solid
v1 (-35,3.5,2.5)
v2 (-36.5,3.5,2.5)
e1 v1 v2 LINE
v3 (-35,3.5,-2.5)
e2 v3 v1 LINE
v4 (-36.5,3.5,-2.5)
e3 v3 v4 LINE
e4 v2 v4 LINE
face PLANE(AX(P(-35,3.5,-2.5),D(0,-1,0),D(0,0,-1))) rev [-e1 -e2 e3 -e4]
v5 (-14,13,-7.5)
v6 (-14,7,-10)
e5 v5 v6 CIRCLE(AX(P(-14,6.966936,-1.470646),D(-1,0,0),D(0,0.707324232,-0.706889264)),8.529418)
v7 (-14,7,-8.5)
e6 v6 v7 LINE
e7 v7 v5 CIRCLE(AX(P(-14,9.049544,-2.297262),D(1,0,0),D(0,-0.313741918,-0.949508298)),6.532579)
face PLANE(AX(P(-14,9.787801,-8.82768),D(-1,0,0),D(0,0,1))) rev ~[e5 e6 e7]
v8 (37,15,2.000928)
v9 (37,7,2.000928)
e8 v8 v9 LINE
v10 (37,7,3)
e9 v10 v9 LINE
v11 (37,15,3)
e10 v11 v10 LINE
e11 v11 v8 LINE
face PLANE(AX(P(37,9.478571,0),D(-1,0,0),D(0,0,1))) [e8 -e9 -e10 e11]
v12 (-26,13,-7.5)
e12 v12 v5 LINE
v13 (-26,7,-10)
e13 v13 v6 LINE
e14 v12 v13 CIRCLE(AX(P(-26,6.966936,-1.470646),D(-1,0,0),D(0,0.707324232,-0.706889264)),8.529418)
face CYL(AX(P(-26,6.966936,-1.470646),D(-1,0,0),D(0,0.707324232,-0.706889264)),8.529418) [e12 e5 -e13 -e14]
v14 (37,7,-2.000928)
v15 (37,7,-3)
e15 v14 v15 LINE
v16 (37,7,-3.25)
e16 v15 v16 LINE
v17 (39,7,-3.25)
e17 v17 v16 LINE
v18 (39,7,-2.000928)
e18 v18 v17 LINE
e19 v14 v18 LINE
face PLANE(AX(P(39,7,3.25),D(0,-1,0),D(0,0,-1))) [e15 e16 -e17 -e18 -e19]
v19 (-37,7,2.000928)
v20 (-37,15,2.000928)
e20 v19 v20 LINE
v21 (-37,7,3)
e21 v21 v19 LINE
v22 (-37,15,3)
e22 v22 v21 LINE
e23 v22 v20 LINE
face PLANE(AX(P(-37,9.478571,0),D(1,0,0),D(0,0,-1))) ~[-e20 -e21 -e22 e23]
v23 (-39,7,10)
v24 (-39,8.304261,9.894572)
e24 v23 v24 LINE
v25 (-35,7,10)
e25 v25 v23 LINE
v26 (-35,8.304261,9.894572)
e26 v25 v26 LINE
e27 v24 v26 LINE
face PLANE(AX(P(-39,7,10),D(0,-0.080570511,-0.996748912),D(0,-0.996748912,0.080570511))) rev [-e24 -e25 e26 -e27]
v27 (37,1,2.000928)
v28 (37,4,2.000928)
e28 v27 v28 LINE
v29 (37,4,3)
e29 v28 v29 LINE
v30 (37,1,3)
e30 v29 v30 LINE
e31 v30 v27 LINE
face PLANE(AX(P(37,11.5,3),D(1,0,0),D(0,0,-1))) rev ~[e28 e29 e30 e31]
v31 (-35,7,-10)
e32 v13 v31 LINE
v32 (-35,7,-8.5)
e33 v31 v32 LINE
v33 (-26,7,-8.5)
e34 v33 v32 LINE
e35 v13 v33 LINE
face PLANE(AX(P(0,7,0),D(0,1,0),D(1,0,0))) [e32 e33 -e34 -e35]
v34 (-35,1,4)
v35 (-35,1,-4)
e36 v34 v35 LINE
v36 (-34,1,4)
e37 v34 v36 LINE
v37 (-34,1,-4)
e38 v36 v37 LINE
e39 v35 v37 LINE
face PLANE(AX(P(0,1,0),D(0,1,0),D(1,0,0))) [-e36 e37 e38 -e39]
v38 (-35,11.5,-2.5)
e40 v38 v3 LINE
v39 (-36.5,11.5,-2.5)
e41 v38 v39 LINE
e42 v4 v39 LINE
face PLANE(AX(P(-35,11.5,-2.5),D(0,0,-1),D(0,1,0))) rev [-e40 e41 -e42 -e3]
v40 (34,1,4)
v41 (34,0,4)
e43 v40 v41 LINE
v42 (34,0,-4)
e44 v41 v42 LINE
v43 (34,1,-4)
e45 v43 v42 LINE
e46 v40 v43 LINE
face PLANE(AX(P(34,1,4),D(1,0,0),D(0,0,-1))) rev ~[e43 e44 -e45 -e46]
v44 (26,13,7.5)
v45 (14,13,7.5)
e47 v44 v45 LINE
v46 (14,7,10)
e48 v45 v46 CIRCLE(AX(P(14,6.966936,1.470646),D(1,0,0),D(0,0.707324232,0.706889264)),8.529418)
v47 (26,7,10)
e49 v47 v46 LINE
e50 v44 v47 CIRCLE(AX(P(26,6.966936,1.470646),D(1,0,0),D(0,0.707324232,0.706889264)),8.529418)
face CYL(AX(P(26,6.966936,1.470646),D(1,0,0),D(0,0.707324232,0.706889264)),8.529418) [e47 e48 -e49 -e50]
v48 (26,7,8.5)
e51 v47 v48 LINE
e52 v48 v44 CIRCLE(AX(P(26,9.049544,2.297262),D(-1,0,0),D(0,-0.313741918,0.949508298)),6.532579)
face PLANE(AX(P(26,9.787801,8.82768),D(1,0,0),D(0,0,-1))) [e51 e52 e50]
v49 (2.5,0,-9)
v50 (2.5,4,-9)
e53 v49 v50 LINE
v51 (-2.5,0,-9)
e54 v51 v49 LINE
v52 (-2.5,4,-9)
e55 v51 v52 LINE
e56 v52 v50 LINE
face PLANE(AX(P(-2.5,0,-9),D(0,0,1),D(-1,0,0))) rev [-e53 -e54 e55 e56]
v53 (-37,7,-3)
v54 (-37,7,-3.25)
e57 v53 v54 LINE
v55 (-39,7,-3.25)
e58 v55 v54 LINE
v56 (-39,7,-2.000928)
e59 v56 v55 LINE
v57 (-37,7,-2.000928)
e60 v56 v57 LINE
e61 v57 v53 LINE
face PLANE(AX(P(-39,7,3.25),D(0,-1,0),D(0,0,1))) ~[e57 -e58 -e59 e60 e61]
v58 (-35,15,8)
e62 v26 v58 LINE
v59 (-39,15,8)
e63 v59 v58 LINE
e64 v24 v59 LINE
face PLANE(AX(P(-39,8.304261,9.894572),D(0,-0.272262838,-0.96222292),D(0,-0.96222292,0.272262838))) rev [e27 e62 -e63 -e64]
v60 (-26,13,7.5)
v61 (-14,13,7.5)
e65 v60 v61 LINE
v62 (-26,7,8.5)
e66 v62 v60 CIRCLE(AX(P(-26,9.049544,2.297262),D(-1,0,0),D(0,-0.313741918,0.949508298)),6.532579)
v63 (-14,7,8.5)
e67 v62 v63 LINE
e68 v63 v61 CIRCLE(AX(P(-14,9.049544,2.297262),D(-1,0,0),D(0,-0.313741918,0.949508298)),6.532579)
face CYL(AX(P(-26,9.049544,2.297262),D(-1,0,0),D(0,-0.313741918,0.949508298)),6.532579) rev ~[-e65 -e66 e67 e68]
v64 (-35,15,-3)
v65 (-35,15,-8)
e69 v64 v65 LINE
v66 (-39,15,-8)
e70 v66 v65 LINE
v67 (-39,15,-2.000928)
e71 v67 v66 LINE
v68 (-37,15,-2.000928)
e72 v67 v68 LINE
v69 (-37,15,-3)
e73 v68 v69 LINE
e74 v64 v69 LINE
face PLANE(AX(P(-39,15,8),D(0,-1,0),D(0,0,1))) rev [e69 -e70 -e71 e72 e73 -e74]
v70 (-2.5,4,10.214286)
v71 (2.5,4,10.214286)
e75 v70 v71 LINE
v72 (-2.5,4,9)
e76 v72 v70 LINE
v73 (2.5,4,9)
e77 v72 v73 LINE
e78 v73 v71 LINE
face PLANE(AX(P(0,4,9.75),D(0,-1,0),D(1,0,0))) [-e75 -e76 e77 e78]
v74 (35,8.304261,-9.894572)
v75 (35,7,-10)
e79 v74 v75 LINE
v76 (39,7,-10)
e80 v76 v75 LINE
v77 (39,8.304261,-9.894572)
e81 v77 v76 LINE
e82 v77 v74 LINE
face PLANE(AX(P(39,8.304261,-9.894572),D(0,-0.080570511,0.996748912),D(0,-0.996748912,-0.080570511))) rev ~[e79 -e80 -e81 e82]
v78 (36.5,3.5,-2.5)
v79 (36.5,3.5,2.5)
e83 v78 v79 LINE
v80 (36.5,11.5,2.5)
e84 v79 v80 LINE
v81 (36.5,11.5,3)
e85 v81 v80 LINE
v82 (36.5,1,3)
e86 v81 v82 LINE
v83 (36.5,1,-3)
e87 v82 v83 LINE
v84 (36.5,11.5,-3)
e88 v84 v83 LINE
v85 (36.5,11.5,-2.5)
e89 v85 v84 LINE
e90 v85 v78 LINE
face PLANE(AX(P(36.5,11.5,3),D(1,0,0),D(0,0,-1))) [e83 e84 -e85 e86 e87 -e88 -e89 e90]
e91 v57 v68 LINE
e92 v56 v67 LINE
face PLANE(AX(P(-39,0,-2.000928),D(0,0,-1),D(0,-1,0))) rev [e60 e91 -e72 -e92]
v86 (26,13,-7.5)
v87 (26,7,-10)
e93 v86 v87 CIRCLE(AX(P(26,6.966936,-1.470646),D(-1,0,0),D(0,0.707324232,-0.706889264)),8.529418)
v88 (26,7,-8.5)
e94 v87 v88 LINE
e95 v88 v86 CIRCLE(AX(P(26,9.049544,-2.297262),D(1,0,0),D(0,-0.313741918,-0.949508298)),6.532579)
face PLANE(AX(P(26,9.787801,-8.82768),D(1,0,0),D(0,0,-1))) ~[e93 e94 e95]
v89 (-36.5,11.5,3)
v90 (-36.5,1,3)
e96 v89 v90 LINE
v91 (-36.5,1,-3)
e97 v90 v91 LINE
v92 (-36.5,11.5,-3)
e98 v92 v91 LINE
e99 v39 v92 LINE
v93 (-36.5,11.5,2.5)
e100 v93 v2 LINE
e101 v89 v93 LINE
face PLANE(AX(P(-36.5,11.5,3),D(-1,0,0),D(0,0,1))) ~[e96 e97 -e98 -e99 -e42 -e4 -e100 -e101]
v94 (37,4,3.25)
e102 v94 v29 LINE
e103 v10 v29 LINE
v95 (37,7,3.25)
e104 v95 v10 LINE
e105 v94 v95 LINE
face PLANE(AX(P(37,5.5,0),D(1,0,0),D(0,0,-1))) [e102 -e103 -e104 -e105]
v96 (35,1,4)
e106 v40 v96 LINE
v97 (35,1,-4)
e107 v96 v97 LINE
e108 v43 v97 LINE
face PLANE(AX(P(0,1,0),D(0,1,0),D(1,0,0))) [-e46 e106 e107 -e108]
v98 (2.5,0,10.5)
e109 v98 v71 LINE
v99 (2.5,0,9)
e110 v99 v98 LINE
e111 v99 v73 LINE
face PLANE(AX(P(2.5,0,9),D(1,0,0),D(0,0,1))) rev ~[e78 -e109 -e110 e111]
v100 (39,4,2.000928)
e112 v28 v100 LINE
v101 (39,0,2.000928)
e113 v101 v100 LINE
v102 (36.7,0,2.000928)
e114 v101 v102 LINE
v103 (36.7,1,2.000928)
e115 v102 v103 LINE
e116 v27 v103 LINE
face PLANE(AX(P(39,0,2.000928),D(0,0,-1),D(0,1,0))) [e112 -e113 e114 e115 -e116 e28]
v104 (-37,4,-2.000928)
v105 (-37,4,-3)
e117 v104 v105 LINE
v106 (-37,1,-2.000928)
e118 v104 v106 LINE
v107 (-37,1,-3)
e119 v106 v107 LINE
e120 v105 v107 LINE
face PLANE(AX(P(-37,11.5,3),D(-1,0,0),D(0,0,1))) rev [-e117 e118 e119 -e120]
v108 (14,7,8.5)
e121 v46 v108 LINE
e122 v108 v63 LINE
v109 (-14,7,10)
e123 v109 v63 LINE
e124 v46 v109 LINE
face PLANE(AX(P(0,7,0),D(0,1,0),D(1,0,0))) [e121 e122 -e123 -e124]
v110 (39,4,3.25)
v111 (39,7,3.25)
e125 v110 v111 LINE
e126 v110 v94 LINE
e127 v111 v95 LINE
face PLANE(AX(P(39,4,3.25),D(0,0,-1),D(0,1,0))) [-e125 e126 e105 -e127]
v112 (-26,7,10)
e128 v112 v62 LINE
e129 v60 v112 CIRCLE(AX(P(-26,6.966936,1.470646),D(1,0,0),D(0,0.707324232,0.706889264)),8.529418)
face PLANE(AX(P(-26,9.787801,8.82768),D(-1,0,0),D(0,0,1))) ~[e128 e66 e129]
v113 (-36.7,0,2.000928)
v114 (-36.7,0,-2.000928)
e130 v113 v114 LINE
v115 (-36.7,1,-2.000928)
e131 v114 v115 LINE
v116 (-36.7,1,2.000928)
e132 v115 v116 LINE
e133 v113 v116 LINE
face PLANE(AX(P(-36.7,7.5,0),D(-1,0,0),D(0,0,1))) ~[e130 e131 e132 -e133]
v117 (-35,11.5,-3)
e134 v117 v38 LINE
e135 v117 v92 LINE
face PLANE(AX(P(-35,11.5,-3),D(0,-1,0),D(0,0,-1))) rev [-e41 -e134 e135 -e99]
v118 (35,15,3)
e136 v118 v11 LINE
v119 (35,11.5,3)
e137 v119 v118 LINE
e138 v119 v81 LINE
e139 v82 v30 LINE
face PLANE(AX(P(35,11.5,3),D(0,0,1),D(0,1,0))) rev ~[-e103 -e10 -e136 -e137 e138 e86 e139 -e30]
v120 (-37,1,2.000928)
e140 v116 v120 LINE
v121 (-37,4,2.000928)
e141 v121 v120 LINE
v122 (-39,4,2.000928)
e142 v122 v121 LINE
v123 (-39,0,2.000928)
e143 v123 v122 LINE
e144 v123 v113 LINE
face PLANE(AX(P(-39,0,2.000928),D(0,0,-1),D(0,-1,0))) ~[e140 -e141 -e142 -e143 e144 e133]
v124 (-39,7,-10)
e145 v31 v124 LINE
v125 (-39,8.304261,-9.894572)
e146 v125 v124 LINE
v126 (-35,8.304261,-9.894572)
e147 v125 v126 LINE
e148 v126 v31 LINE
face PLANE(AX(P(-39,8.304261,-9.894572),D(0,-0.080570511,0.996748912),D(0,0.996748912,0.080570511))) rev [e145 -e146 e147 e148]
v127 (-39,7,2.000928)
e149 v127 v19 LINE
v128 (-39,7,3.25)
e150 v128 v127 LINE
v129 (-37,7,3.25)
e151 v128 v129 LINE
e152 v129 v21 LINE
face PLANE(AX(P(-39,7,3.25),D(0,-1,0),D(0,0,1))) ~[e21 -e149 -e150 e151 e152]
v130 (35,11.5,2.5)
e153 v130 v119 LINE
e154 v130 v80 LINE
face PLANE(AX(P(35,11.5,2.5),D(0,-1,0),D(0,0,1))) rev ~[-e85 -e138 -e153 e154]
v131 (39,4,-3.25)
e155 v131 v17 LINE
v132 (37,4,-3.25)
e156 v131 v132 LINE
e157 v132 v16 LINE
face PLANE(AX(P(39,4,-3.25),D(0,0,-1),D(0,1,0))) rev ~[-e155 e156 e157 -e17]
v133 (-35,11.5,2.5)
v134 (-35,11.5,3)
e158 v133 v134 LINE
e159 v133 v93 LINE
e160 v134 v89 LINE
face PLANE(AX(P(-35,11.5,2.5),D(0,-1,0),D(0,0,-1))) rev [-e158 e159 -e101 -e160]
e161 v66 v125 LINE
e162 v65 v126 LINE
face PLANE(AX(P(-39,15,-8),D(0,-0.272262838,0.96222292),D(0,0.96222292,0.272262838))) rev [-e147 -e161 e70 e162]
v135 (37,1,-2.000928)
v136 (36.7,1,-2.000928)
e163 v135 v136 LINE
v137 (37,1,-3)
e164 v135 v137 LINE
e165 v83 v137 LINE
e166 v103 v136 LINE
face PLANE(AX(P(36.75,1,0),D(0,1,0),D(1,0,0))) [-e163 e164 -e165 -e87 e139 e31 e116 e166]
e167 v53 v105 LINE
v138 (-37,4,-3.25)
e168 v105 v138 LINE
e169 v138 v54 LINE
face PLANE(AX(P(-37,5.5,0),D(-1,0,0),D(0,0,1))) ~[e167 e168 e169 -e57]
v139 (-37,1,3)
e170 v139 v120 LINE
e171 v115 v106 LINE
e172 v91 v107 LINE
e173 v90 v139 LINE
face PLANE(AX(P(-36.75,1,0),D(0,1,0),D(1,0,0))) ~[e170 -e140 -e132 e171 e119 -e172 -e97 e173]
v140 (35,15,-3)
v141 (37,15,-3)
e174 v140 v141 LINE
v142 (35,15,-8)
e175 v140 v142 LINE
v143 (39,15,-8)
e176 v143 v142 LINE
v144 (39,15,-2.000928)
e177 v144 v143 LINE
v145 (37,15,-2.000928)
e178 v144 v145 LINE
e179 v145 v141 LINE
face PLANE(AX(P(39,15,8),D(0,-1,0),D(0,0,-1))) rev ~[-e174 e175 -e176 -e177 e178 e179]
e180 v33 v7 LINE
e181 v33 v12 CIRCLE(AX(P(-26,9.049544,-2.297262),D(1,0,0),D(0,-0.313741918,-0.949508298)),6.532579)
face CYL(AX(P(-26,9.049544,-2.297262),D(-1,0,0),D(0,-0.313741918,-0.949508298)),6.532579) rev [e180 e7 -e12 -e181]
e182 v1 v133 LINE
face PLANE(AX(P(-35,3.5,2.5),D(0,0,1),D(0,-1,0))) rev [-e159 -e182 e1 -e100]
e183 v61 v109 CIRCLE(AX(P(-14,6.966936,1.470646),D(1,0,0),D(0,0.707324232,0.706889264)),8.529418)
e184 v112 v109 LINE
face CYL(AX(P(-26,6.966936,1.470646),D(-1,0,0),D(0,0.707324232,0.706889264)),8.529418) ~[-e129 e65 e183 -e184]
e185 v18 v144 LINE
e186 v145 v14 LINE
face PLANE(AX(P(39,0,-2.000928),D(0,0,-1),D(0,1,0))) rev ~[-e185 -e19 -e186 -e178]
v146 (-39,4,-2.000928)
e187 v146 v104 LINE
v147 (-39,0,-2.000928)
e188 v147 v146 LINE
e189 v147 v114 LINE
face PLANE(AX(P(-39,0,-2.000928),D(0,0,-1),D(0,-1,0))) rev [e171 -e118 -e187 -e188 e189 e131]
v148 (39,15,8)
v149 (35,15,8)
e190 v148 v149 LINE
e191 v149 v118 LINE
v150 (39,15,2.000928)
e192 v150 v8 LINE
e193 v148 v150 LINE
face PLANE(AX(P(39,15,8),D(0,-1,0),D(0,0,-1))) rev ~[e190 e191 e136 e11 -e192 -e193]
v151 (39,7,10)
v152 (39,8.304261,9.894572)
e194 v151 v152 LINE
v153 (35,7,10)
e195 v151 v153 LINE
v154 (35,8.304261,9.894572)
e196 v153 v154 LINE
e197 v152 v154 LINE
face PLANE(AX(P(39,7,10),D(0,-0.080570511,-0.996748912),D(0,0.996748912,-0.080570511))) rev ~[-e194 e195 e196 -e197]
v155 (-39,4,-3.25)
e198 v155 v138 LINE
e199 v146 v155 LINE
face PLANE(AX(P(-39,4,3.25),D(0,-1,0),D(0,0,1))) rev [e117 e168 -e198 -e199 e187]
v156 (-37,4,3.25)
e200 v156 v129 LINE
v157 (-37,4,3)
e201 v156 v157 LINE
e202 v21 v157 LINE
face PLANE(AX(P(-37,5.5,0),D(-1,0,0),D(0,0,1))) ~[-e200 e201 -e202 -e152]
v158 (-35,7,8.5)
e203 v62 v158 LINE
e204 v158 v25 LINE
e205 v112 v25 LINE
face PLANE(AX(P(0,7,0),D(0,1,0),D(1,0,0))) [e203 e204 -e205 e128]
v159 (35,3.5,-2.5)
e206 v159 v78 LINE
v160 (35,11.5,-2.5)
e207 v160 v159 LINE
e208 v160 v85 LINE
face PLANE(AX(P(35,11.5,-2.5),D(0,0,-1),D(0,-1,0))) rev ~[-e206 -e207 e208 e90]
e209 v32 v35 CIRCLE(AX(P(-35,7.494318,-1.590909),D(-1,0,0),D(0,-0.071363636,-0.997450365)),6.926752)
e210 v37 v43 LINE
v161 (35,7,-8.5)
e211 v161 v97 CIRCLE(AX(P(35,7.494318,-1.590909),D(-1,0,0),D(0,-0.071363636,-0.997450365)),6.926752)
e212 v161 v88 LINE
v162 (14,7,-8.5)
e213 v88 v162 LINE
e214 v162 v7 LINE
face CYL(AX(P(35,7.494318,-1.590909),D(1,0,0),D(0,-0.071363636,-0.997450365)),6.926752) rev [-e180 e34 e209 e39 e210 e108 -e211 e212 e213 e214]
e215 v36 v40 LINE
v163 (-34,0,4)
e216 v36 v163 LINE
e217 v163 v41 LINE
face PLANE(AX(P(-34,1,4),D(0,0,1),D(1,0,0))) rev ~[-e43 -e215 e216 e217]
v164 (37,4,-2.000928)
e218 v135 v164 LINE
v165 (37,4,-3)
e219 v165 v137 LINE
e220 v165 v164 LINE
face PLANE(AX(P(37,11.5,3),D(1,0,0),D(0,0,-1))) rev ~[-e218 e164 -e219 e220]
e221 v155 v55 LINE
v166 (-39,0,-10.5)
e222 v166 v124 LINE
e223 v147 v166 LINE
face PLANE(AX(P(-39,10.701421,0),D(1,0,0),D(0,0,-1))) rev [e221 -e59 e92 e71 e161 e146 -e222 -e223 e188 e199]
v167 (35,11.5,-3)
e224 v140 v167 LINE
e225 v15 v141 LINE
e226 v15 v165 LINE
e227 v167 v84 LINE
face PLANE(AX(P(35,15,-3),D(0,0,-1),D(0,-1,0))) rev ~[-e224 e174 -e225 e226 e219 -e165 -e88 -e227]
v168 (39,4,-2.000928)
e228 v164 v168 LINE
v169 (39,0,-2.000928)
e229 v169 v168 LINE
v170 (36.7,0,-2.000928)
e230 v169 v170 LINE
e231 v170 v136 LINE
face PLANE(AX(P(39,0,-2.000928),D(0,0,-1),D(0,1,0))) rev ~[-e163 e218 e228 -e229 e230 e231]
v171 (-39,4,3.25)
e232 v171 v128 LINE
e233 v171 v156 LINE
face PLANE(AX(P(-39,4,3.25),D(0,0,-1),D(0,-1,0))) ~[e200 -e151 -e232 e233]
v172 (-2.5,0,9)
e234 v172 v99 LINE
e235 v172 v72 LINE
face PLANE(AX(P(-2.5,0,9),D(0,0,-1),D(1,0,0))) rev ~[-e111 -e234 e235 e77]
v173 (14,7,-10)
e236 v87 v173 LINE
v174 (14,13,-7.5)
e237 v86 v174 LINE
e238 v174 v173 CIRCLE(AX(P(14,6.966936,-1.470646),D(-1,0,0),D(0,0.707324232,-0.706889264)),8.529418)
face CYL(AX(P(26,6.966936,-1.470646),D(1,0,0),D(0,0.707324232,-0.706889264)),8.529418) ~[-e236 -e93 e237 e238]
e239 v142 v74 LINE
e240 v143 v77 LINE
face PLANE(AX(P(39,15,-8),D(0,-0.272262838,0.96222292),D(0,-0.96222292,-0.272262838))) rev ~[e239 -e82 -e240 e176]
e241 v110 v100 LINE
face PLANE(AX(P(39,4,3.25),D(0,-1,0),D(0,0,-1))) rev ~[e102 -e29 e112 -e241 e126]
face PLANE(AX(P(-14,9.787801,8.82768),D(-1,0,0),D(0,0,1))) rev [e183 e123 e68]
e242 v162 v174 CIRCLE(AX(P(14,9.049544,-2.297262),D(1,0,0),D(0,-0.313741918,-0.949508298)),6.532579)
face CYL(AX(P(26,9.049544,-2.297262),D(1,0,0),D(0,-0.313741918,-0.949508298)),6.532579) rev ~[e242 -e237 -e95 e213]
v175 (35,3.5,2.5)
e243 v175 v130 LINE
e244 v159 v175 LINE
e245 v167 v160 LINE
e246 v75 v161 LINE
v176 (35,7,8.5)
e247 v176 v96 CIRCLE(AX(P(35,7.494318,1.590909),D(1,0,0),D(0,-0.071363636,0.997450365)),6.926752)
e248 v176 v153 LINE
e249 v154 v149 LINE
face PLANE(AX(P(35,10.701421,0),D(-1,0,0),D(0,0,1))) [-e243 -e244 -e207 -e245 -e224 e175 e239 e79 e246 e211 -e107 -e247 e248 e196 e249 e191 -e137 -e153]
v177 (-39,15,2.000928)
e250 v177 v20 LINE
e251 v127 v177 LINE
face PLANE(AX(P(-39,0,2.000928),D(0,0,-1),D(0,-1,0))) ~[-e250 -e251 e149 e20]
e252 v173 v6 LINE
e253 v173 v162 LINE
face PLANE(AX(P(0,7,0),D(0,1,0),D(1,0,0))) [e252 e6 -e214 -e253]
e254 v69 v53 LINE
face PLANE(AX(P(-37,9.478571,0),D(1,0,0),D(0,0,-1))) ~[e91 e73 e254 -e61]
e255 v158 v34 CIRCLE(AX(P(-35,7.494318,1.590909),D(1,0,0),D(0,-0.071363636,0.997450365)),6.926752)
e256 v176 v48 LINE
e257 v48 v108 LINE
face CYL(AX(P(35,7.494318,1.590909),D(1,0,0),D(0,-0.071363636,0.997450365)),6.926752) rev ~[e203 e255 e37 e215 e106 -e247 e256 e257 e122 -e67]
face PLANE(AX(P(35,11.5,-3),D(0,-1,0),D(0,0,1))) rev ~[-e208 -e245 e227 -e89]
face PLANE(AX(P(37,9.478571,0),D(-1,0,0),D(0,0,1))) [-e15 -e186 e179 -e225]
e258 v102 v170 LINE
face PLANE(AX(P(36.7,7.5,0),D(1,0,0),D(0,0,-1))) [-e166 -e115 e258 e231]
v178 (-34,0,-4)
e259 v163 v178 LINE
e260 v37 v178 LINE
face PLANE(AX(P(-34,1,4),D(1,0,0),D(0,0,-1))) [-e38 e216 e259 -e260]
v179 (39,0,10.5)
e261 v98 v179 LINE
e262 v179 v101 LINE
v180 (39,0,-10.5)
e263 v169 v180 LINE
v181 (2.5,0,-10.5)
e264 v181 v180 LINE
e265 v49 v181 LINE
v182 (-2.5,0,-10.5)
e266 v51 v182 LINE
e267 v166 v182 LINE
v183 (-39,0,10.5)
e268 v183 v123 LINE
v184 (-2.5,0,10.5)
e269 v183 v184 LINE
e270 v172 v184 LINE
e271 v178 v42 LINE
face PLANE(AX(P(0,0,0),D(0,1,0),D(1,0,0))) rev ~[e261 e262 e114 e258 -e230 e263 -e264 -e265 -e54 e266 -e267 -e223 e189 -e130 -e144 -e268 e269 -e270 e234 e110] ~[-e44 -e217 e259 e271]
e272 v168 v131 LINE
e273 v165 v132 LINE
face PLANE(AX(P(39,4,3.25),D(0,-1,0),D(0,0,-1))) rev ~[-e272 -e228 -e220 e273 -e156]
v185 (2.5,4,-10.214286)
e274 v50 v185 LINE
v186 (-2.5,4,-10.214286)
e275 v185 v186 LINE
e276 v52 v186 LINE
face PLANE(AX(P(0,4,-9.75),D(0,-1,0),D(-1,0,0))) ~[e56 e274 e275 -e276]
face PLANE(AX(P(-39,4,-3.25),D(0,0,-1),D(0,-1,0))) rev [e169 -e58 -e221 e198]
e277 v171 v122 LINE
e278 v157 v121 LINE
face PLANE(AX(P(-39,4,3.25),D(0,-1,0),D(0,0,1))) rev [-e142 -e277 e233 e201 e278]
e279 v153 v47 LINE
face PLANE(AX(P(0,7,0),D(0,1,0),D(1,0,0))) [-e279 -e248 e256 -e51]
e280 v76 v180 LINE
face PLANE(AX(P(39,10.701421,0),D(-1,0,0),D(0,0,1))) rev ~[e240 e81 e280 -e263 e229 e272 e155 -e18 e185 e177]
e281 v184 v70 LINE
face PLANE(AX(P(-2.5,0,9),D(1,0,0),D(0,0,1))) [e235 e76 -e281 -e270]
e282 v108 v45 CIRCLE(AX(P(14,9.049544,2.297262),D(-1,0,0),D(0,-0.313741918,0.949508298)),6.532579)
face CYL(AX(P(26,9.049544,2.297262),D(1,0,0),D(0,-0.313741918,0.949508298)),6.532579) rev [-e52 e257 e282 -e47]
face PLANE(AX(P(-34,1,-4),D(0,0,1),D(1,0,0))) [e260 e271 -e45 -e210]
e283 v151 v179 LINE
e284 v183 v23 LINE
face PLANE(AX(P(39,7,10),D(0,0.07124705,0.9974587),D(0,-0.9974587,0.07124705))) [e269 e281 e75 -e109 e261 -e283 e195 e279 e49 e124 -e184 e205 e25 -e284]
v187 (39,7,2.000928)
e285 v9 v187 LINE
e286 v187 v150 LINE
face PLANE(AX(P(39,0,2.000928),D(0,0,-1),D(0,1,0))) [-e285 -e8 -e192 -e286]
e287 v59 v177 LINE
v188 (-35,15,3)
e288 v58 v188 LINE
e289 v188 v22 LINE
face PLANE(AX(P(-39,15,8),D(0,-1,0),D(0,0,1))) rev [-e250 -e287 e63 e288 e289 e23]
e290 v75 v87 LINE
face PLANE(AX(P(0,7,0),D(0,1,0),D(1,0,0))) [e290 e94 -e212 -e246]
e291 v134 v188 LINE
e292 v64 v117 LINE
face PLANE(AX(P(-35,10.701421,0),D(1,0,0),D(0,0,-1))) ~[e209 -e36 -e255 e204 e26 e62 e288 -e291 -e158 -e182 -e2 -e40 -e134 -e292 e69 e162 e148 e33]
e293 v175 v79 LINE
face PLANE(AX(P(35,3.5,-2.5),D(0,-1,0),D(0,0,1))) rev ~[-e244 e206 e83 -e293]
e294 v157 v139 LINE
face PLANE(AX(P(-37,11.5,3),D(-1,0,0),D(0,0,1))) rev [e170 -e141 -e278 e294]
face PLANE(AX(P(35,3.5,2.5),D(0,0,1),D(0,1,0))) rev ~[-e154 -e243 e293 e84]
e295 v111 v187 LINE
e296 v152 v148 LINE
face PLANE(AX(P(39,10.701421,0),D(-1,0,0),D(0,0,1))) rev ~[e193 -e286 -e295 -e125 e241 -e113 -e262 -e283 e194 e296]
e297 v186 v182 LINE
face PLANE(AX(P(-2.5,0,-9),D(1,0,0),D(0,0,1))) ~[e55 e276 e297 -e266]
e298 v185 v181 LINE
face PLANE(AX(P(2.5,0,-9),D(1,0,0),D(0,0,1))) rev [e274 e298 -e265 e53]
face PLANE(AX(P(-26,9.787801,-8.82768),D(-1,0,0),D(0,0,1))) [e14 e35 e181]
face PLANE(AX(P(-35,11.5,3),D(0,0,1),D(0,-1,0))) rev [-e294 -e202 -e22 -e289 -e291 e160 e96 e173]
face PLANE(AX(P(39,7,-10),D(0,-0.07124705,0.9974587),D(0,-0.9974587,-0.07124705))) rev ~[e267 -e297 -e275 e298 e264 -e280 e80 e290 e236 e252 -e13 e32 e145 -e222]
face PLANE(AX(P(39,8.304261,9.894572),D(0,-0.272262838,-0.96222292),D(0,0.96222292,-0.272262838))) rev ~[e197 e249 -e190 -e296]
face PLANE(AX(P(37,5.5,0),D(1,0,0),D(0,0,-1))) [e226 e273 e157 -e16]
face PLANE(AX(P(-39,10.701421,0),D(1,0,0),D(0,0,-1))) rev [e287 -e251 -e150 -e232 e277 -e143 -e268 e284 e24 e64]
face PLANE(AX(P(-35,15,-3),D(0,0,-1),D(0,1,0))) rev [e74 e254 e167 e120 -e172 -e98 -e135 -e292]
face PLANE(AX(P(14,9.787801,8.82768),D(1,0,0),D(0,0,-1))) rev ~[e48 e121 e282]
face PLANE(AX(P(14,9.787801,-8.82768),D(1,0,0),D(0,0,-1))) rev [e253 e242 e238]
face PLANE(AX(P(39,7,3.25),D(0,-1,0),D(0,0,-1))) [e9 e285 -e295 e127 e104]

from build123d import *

# Parameters (mm, degrees)
SKETCH1_W            = 78
SKETCH1_H            = 21
BOSS_EXTRUDE1_DEPTH  = 7
CUT_EXTRUDE1_DEPTH   = 80.014239223
SKETCH3_W            = 70
SKETCH3_H            = 8
CUT_EXTRUDE2_DEPTH   = 6
CUT_EXTRUDE3_DEPTH   = 70
SKETCH5_W            = 68
SKETCH5_H            = 8
CUT_EXTRUDE4_DEPTH   = 41.831972766
BOSS_EXTRUDE2_DEPTH  = 12
MIRROR3_COPY_1_DEPTH = 12
BOSS_EXTRUDE3_DEPTH  = 4
SKETCH9_W            = 6.5
SKETCH9_H            = 3
CUT_EXTRUDE5_DEPTH   = 2
CUT_EXTRUDE6_DEPTH   = 2
SKETCH12_W           = 0.5
SKETCH12_H           = 6
CUT_EXTRUDE8_DEPTH   = 10.5
SKETCH13_W           = 4.001855858
SKETCH13_H           = 15
CUT_EXTRUDE9_DEPTH   = 2.3
SKETCH14_W           = 5
SKETCH14_H           = 1.5
CUT_EXTRUDE10_DEPTH  = 4


with BuildPart() as part:
    # Sketch1 → Boss-Extrude1 (new body)
    with BuildSketch(Plane(origin=(0, 0, 0), x_dir=(1, 0, 0), z_dir=(0, 1, 0))):
        Rectangle(SKETCH1_W, SKETCH1_H)
    extrude(amount=BOSS_EXTRUDE1_DEPTH)

    # Sketch2 → Cut-Extrude1 (cut, through all)
    with BuildSketch(Plane(origin=(39, 0, 0), x_dir=(0, 0, -1), z_dir=(1, 0, 0))):
        Polygon((10, 7), (10.5, 0), (10.5, 7), align=None)
        Polygon((-10, 7), (-10.5, 0), (-10.5, 7), align=None)
    extrude(amount=-CUT_EXTRUDE1_DEPTH, mode=Mode.SUBTRACT)

    # Sketch3 → Cut-Extrude2 (cut)
    with BuildSketch(Plane(origin=(0, 7, 0), x_dir=(1, 0, 0), z_dir=(0, 1, 0))):
        Rectangle(SKETCH3_W, SKETCH3_H)
    extrude(amount=-CUT_EXTRUDE2_DEPTH, mode=Mode.SUBTRACT)

    # Sketch4 → Cut-Extrude3 (cut)
    with BuildSketch(Plane(origin=(35, 0, 0), x_dir=(0, 0, -1), z_dir=(1, 0, 0))):
        with BuildLine():
            Line((4, 1), (4, 7))
            Line((4, 7), (8.5, 7))
            ThreePointArc((8.5, 7), (7.132310367, 3.338267225), (4, 1))
        make_face()
    cut_extrude3 = extrude(amount=-CUT_EXTRUDE3_DEPTH, mode=Mode.SUBTRACT)

    # Mirror1: Cut-Extrude3 across plane
    add(cut_extrude3.mirror(Plane.XY), mode=Mode.SUBTRACT)

    # Sketch5 → Cut-Extrude4 (cut, through all)
    with BuildSketch(Plane(origin=(0, 1, 0), x_dir=(1, 0, 0), z_dir=(0, 1, 0))):
        Rectangle(SKETCH5_W, SKETCH5_H)
    extrude(amount=-CUT_EXTRUDE4_DEPTH, mode=Mode.SUBTRACT)

    # Sketch6 → Boss-Extrude2 (add)
    with BuildSketch(Plane(origin=(26, 0, 0), x_dir=(0, 0, -1), z_dir=(1, 0, 0))):
        with BuildLine():
            Line((-10, 7), (-8.5, 7))
            ThreePointArc((-8.5, 7), (-8.740958247, 10.123493041), (-7.5, 13))
            ThreePointArc((-7.5, 13), (-9.343954985, 10.247481244), (-10, 7))
        make_face()
    boss_extrude2 = extrude(amount=-BOSS_EXTRUDE2_DEPTH)

    # Mirror2: Boss-Extrude2 across plane
    add(boss_extrude2.mirror(Plane(origin=(0, 0, 0), x_dir=(0, 0, 1), z_dir=(1, 0, 0))))

    # Mirror3: Boss-Extrude2 across plane
    add(boss_extrude2.mirror(Plane.XY))

    # Mirror3 copy 1 sketch → Mirror3 copy 1 (add)
    with BuildSketch(Plane.ZY.offset(26)):
        with BuildLine():
            Line((-10, 7), (-8.5, 7))
            ThreePointArc((-8.5, 7), (-8.740958247, 10.123493041), (-7.5, 13))
            ThreePointArc((-7.5, 13), (-9.343954985, 10.247481244), (-10, 7))
        make_face()
    extrude(amount=-MIRROR3_COPY_1_DEPTH)

    # Sketch8 → Boss-Extrude3 (add)
    with BuildSketch(Plane(origin=(39, 0, 0), x_dir=(0, 0, -1), z_dir=(1, 0, 0))):
        Polygon((-8, 15), (8, 15), (9.894572253, 8.304261216), (10, 7), (-10, 7), (-9.894572253, 8.304261216), align=None)
    boss_extrude3 = extrude(amount=-BOSS_EXTRUDE3_DEPTH)

    # Mirror4: Boss-Extrude3 across plane
    add(boss_extrude3.mirror(Plane(origin=(0, 0, 0), x_dir=(0, 0, 1), z_dir=(1, 0, 0))))

    # Sketch9 → Cut-Extrude5 (cut)
    with BuildSketch(Plane(origin=(39, 0, 0), x_dir=(0, 0, -1), z_dir=(1, 0, 0))):
        with Locations((0, 5.5)):
            Rectangle(SKETCH9_W, SKETCH9_H)
    cut_extrude5 = extrude(amount=-CUT_EXTRUDE5_DEPTH, mode=Mode.SUBTRACT)

    # Mirror5: Cut-Extrude5 across plane
    add(cut_extrude5.mirror(Plane(origin=(0, 0, 0), x_dir=(0, 0, 1), z_dir=(1, 0, 0))), mode=Mode.SUBTRACT)

    # Sketch11 → Cut-Extrude6 (cut)
    with BuildSketch(Plane.ZY.offset(-35)):
        Polygon((-2.5, 3.5), (2.5, 3.5), (2.5, 11.5), (3, 11.5), (3, 15), (-3, 15), (-3, 11.5), (-2.5, 11.5), align=None)
    cut_extrude6 = extrude(amount=-CUT_EXTRUDE6_DEPTH, mode=Mode.SUBTRACT)

    # Sketch12 → Cut-Extrude8 (cut)
    with BuildSketch(Plane(origin=(0, 11.5, 0), x_dir=(1, 0, 0), z_dir=(0, 1, 0))):
        with Locations((36.75, 0)):
            Rectangle(SKETCH12_W, SKETCH12_H)
    cut_extrude8 = extrude(amount=-CUT_EXTRUDE8_DEPTH, mode=Mode.SUBTRACT)

    # Sketch13 → Cut-Extrude9 (cut)
    with BuildSketch(Plane(origin=(39, 0, 0), x_dir=(0, 0, -1), z_dir=(1, 0, 0))):
        with Locations((0, 7.5)):
            Rectangle(SKETCH13_W, SKETCH13_H)
    cut_extrude9 = extrude(amount=-CUT_EXTRUDE9_DEPTH, mode=Mode.SUBTRACT)

    # Mirror6: Cut-Extrude6, Cut-Extrude8, Cut-Extrude9 across plane
    add(cut_extrude6.mirror(Plane(origin=(0, 0, 0), x_dir=(0, 0, 1), z_dir=(1, 0, 0))), mode=Mode.SUBTRACT)
    add(cut_extrude8.mirror(Plane(origin=(0, 0, 0), x_dir=(0, 0, 1), z_dir=(1, 0, 0))), mode=Mode.SUBTRACT)
    add(cut_extrude9.mirror(Plane(origin=(0, 0, 0), x_dir=(0, 0, 1), z_dir=(1, 0, 0))), mode=Mode.SUBTRACT)

    # Sketch14 → Cut-Extrude10 (cut)
    with BuildSketch(Plane.XZ):
        with Locations((0, 9.75)):
            Rectangle(SKETCH14_W, SKETCH14_H)
    cut_extrude10 = extrude(amount=-CUT_EXTRUDE10_DEPTH, mode=Mode.SUBTRACT)

    # Mirror7: Cut-Extrude10 across plane
    add(cut_extrude10.mirror(Plane.XY), mode=Mode.SUBTRACT)


solid = part.part
